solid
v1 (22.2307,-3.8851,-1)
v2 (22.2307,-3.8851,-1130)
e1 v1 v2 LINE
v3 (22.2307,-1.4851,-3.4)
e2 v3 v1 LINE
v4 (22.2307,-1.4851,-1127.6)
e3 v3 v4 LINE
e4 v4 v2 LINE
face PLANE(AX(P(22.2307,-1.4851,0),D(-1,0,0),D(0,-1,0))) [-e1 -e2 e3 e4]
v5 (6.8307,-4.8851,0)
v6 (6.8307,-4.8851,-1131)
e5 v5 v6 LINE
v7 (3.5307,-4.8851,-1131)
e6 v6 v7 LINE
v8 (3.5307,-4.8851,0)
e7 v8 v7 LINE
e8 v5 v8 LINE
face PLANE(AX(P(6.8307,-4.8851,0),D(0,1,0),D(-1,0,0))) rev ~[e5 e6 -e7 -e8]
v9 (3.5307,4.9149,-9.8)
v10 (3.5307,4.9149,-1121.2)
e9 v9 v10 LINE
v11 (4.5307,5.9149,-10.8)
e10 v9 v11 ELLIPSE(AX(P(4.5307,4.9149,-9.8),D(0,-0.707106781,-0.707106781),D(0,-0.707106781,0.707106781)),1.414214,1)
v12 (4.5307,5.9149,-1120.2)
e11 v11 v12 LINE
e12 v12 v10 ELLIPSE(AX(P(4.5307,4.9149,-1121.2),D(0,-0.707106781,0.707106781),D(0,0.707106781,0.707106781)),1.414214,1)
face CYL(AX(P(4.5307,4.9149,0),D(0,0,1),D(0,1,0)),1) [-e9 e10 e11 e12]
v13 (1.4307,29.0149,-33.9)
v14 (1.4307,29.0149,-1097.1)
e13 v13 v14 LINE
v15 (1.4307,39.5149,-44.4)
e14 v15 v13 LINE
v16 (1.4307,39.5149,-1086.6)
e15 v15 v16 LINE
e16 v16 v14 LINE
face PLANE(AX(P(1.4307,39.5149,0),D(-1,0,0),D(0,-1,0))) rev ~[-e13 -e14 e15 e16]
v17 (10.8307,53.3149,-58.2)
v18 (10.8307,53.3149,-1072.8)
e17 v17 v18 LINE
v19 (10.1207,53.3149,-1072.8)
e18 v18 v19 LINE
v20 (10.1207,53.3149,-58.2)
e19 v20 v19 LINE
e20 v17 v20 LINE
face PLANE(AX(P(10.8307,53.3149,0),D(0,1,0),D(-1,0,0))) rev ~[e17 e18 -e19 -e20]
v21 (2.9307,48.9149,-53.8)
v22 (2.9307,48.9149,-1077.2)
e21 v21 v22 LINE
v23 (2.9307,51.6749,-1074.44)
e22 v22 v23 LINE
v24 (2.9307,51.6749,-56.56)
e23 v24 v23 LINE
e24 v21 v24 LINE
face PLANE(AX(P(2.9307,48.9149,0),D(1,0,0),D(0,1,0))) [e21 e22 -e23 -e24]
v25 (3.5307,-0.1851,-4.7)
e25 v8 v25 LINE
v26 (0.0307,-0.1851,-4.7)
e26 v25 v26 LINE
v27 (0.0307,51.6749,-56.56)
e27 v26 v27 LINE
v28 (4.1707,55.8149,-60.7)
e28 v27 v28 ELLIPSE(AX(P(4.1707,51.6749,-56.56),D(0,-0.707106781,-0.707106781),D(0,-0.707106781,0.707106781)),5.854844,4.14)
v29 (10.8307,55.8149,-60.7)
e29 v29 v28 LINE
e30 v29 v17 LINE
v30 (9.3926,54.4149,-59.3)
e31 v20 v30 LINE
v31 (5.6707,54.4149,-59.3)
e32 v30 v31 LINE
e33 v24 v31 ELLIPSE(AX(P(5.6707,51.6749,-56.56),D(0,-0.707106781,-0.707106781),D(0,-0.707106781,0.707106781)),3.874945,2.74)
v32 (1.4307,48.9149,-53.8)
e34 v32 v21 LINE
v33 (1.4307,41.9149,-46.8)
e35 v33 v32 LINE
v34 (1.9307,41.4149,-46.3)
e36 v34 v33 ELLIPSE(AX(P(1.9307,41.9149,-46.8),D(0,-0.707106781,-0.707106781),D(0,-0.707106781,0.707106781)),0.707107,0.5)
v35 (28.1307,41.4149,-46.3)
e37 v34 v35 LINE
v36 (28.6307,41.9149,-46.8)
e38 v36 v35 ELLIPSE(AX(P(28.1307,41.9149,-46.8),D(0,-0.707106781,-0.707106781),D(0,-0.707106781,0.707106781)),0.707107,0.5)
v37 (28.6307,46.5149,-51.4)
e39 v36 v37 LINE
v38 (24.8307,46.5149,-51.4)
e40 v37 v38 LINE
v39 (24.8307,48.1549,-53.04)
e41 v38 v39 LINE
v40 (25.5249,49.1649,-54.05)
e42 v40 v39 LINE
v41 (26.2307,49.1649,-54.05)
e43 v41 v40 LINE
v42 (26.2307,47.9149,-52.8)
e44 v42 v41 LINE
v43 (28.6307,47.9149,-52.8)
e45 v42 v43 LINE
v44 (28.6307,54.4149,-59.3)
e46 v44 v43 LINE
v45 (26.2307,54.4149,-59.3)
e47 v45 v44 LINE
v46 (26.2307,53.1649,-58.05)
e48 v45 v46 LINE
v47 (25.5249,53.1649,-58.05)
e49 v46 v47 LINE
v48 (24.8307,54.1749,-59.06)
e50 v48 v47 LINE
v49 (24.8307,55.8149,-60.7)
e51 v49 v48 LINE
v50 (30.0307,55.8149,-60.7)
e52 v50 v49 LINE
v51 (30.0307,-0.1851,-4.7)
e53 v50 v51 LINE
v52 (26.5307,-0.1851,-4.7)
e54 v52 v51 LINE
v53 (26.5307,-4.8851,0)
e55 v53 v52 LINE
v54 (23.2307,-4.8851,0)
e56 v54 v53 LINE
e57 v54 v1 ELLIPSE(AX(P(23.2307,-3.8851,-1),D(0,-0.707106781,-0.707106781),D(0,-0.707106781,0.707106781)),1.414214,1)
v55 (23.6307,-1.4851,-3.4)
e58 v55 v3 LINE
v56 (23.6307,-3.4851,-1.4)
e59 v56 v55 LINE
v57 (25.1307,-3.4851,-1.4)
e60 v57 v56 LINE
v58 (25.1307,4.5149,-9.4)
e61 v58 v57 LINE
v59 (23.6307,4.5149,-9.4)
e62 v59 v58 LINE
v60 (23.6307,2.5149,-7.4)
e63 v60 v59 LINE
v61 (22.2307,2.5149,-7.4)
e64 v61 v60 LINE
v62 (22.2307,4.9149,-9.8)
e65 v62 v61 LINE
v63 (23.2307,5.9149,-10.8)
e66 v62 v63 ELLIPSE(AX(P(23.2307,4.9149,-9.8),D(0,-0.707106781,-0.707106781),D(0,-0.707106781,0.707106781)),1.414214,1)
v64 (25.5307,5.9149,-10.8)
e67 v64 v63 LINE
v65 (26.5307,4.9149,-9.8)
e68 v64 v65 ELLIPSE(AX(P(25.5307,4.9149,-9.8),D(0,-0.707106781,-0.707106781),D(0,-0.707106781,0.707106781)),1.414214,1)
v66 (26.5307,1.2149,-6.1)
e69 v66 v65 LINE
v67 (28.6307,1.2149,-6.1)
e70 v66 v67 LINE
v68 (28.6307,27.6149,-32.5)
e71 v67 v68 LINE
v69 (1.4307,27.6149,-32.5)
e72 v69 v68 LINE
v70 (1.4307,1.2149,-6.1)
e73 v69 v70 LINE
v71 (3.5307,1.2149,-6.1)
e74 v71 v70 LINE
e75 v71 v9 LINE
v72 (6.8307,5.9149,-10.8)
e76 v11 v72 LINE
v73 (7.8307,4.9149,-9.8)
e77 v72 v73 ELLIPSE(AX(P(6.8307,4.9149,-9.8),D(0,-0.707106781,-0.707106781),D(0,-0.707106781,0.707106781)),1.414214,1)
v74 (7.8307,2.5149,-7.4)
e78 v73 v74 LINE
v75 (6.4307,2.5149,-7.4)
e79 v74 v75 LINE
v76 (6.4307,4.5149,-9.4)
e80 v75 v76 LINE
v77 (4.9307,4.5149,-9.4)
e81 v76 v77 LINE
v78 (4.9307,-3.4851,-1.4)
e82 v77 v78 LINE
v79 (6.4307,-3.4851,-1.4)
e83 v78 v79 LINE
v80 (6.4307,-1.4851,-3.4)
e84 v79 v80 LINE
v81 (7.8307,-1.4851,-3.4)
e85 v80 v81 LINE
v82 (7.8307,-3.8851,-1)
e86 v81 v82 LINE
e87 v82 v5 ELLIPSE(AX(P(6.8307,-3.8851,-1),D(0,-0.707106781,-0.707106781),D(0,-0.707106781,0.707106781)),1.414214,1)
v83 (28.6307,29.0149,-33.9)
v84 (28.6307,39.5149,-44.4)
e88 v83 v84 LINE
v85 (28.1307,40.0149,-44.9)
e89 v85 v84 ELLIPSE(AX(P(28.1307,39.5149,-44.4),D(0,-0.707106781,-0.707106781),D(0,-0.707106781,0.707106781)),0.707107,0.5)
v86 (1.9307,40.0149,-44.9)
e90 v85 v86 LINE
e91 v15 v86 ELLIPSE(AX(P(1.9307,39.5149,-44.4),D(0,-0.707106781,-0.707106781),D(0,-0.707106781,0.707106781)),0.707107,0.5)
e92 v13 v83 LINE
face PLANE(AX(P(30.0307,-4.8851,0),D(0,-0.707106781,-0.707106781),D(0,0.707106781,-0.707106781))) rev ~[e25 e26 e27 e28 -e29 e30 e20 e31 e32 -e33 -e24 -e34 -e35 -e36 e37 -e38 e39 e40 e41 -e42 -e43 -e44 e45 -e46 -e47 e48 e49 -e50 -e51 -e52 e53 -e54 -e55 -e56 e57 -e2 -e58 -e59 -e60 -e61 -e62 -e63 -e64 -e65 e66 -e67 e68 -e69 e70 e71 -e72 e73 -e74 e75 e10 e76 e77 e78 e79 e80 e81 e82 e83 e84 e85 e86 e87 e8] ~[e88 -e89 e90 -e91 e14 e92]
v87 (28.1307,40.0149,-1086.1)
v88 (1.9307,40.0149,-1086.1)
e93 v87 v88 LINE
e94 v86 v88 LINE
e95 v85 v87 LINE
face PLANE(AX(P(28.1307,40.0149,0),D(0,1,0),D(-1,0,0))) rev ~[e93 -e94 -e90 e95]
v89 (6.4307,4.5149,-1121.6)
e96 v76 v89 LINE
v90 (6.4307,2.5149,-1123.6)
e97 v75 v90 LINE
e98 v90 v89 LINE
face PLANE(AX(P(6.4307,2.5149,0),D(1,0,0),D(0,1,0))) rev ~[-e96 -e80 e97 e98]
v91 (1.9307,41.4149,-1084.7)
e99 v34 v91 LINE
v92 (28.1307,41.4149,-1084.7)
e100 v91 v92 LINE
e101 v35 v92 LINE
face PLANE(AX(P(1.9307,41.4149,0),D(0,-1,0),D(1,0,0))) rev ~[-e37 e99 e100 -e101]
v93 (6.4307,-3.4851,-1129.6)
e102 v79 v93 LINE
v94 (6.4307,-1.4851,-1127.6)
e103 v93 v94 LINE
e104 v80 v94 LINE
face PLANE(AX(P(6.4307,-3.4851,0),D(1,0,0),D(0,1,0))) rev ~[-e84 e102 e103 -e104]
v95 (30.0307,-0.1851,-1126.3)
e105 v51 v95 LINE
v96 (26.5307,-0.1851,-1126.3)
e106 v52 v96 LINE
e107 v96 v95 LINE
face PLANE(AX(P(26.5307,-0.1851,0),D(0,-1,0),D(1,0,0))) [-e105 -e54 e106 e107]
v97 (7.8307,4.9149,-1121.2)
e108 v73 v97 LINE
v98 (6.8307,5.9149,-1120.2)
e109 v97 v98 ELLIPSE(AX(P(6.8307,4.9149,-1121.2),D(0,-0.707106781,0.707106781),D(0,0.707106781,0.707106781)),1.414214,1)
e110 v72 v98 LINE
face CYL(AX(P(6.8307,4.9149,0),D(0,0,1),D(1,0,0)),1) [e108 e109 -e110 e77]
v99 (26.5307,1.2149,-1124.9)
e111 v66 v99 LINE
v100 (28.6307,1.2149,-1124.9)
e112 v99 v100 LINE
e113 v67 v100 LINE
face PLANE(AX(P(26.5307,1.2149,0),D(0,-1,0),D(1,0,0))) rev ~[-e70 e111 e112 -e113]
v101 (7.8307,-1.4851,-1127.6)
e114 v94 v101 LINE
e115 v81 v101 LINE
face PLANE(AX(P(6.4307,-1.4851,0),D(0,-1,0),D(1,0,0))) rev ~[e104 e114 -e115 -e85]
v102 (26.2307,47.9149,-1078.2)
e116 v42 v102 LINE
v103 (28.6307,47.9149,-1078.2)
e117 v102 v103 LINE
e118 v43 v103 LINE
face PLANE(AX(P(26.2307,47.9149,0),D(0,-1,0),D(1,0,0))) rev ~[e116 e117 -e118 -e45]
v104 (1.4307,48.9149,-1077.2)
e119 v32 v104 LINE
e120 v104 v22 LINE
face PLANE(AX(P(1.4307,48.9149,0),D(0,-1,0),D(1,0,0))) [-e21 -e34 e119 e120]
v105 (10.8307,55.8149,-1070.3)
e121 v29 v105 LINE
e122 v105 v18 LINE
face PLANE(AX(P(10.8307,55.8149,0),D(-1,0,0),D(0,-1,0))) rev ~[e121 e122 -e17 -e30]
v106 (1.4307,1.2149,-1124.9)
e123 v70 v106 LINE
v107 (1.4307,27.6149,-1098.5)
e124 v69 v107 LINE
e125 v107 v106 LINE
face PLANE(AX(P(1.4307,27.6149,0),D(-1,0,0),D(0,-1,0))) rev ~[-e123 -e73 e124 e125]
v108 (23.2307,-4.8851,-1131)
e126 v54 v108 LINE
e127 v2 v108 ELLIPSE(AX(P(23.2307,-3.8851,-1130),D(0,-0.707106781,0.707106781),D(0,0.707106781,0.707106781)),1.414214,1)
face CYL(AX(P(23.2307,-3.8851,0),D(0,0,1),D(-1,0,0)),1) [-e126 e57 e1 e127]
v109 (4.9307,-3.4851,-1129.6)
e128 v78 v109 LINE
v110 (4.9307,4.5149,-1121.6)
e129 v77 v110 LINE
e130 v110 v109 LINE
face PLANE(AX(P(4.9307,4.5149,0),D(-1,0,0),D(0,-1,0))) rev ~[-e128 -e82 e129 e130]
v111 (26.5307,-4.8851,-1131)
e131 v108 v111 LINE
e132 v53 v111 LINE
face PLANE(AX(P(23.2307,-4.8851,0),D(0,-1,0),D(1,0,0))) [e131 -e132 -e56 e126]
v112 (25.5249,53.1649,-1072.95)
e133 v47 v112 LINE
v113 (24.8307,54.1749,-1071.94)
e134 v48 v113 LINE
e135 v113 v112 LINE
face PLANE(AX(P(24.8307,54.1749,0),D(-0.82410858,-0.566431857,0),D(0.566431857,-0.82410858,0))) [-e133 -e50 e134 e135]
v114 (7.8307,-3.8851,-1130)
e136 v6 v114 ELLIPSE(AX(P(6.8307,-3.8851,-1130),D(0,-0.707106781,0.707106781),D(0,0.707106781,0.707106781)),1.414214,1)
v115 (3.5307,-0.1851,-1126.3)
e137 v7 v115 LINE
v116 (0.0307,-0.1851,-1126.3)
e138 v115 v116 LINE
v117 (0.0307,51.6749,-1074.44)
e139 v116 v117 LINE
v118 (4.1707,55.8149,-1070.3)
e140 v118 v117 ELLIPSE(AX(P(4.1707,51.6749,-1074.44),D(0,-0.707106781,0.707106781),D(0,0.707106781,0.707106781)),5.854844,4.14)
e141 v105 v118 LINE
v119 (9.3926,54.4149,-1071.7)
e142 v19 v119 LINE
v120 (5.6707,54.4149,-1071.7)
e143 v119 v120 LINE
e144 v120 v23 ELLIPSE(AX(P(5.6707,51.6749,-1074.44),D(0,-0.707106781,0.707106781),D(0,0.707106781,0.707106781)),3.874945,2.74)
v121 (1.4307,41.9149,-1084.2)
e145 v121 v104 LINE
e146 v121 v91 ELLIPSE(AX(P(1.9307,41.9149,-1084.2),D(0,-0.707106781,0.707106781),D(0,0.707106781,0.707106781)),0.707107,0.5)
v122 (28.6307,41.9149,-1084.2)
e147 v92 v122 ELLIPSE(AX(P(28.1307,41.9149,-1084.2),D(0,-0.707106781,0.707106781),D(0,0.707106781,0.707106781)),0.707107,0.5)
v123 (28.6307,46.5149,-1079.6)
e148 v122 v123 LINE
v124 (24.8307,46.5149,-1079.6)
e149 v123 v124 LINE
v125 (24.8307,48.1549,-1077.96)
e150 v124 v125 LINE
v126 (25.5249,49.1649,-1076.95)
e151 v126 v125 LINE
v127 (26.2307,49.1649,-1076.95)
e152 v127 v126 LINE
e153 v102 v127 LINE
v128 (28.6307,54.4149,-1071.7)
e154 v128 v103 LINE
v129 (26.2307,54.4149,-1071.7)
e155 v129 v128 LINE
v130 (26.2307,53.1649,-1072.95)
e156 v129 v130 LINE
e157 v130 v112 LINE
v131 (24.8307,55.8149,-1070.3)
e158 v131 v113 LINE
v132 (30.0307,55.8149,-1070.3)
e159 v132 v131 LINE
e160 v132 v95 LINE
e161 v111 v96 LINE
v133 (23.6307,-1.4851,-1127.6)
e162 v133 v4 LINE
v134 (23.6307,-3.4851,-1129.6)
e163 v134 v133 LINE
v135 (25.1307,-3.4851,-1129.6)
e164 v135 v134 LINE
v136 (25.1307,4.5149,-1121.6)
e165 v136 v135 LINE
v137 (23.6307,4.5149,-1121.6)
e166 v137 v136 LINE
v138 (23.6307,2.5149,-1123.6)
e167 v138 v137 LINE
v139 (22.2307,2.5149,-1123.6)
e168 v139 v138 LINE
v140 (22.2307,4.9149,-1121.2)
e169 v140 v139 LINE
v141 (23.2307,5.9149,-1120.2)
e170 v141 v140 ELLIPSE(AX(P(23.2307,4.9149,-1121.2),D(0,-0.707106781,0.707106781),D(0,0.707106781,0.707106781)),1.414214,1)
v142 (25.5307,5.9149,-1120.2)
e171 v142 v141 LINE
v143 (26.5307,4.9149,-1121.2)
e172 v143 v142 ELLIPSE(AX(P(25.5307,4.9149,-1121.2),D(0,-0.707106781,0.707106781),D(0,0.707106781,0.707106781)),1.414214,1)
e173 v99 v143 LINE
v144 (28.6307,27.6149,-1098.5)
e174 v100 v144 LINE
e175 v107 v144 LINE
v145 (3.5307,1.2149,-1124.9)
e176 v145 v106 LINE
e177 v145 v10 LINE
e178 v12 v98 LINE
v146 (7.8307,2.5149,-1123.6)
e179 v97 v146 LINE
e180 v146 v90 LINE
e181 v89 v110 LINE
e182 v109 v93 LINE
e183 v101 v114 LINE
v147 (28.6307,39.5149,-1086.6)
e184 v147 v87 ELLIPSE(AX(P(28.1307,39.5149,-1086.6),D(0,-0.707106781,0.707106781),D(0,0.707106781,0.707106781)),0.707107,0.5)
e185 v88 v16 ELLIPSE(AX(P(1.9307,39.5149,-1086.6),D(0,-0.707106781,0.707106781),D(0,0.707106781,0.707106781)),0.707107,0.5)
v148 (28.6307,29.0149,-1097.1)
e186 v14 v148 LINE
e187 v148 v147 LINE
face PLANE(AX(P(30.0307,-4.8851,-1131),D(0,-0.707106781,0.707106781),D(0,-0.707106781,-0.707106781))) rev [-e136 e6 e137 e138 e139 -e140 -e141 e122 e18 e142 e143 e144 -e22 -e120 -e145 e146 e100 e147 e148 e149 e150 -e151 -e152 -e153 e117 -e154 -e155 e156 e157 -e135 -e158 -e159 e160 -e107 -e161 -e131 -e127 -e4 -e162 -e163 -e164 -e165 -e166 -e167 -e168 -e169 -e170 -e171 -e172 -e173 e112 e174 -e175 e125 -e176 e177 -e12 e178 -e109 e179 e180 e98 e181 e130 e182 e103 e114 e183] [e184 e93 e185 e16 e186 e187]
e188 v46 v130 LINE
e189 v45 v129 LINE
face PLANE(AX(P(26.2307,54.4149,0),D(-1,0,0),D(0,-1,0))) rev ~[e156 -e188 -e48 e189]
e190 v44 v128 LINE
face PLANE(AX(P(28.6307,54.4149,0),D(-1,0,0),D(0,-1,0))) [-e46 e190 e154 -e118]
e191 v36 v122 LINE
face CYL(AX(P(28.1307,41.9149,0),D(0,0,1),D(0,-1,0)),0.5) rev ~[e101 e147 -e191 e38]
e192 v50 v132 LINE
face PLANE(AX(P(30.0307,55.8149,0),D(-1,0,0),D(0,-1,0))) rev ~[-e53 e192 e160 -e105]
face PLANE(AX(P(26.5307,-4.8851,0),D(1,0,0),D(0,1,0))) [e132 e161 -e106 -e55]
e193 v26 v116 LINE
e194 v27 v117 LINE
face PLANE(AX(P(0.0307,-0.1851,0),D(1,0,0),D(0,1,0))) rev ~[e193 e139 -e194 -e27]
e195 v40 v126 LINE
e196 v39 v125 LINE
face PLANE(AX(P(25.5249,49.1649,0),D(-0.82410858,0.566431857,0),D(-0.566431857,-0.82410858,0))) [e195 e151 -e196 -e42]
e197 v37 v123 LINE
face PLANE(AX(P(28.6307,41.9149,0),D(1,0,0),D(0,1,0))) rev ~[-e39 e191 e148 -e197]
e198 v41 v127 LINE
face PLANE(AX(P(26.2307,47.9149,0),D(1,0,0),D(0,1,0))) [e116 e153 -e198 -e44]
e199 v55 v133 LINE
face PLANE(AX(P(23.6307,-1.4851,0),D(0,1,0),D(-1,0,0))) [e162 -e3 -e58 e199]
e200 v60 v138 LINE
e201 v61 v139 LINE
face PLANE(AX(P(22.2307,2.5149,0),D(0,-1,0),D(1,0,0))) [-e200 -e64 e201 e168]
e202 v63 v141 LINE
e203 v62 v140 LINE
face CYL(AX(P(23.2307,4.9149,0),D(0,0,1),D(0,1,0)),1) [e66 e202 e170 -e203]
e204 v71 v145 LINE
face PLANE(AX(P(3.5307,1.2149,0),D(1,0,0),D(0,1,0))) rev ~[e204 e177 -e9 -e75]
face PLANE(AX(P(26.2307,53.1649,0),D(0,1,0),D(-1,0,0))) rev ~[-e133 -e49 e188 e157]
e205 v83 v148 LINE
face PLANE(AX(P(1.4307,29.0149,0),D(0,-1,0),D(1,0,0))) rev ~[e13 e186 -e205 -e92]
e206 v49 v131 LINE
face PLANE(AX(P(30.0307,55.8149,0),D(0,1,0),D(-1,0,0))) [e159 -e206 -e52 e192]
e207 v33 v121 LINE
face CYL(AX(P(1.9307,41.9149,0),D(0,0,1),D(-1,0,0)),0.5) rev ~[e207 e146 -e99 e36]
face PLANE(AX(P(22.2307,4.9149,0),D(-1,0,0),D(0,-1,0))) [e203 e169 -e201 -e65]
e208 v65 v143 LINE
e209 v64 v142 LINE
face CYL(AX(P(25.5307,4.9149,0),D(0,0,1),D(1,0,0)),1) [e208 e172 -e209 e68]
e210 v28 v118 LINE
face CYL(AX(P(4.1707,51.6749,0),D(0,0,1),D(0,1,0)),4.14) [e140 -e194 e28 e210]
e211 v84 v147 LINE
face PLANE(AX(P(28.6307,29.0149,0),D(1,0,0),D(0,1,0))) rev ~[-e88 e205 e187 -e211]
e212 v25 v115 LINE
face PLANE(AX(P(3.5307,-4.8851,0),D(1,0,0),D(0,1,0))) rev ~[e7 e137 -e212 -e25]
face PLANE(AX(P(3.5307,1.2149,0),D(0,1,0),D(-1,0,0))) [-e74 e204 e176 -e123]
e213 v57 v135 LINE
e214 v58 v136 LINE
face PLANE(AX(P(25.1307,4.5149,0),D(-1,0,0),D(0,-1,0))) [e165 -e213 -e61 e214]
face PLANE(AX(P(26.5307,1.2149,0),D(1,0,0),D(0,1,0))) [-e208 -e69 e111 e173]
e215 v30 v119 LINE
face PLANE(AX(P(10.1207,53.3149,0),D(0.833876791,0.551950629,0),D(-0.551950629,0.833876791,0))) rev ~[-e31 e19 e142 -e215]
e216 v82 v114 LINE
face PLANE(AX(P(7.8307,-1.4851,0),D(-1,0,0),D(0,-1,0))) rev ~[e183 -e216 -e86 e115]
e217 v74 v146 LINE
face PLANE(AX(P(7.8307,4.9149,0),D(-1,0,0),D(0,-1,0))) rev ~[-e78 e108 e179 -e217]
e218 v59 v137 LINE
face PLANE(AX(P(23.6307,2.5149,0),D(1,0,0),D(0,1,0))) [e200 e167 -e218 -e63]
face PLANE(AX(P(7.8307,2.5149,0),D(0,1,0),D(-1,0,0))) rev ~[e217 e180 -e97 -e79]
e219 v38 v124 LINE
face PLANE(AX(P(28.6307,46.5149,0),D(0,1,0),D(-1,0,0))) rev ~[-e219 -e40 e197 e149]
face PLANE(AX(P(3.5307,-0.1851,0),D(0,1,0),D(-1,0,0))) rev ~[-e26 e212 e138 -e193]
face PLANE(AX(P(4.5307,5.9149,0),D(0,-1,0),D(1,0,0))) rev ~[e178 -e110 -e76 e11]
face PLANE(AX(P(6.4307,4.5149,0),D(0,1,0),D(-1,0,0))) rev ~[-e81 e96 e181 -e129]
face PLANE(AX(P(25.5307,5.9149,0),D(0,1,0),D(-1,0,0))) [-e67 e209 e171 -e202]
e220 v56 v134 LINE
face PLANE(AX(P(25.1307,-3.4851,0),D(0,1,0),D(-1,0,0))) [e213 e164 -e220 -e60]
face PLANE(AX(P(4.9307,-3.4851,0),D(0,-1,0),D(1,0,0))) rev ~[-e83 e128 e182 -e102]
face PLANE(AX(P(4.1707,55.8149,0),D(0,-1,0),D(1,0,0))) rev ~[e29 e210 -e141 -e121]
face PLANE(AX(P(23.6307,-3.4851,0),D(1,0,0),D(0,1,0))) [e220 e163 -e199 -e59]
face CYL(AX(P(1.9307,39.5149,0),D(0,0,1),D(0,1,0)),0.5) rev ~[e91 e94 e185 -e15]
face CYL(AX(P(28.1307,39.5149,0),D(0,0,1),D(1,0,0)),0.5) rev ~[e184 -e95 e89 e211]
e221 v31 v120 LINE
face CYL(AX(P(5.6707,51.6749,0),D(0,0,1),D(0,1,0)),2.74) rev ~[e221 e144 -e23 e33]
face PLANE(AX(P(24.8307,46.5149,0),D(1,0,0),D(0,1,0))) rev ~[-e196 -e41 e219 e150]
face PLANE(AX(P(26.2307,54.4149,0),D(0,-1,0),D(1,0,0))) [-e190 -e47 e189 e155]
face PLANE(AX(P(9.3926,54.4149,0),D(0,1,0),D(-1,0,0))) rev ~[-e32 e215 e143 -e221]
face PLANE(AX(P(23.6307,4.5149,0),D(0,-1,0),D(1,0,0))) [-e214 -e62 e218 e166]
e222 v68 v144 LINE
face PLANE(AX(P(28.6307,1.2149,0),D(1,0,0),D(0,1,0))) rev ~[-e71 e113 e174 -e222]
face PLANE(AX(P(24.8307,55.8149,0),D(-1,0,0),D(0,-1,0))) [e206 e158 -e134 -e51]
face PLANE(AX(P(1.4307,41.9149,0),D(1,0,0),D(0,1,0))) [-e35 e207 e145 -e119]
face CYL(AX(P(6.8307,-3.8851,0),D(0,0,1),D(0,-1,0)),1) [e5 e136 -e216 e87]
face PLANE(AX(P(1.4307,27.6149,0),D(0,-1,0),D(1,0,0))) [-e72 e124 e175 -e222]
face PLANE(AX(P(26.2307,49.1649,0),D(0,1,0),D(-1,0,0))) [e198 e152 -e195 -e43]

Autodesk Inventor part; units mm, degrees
ref_plane "YZ Plane" through (0, 0, 0) normal (1, 0, 0) x (0, 1, 0)
ref_plane "XZ Plane" through (0, 0, 0) normal (0, 1, 0) x (-1, 0, 0)
sketch "Boceto1" plane through (0, 0, 0) normal (0, 0, 1) x (1, 0, 0)
  line L0 (28.1307, 40.0149) -> (1.9307, 40.0149)
  line L1 (1.9307, 41.4149) -> (28.1307, 41.4149)
  line L2 (0.0307, -0.1851) -> (0.0307, 51.6749)
  line L3 (24.8307, 55.8149) -> (24.8307, 54.1749)
  line L4 (28.6307, 54.4149) -> (28.6307, 47.9149)
  line L5 (28.6307, 46.5149) -> (24.8307, 46.5149)
  line L6 (24.8307, 46.5149) -> (24.8307, 48.1549)
  line L7 (26.2307, 47.9149) -> (28.6307, 47.9149)
  line L8 (26.2307, 49.1649) -> (25.5249, 49.1649)
  line L9 (25.5249, 49.1649) -> (24.8307, 48.1549)
  line L10 (26.2307, 53.1649) -> (25.5249, 53.1649)
  line L11 (1.4307, 41.9149) -> (1.4307, 48.9149)
  line L12 (1.4307, 48.9149) -> (2.9307, 48.9149)
  line L13 (2.9307, 48.9149) -> (2.9307, 51.6749)
  line L14 (4.1707, 55.8149) -> (10.8307, 55.8149)
  line L15 (9.3926, 54.4149) -> (5.6707, 54.4149)
  line L16 (10.8307, 55.8149) -> (10.8307, 53.3149)
  line L17 (10.8307, 53.3149) -> (10.1207, 53.3149)
  line L18 (10.1207, 53.3149) -> (9.3926, 54.4149)
  line L19 (26.2307, 54.4149) -> (28.6307, 54.4149)
  arc A0 (5.6707, 54.4149) -> (2.9307, 51.6749) centre (5.6707, 51.6749) ccw
  arc A1 (4.1707, 55.8149) -> (0.0307, 51.6749) centre (4.1707, 51.6749) ccw
  line L20 (24.8307, 54.1749) -> (25.5249, 53.1649)
  line L21 (26.2307, 54.4149) -> (26.2307, 53.1649)
  line L22 (26.2307, 47.9149) -> (26.2307, 49.1649)
  arc A2 (1.9307, 40.0149) -> (1.4307, 39.5149) centre (1.9307, 39.5149) ccw
  arc A3 (28.6307, 39.5149) -> (28.1307, 40.0149) centre (28.1307, 39.5149) ccw
  arc A4 (28.1307, 41.4149) -> (28.6307, 41.9149) centre (28.1307, 41.9149) ccw
  arc A5 (1.4307, 41.9149) -> (1.9307, 41.4149) centre (1.9307, 41.9149) ccw
  line L23 (30.0307, 55.8149) -> (24.8307, 55.8149)
  line L24 (28.6307, 41.9149) -> (28.6307, 46.5149)
  line L25 (30.0307, 55.8149) -> (30.0307, -0.1851)
  line L26 (1.4307, 29.0149) -> (28.6307, 29.0149)
  line L27 (1.4307, 27.6149) -> (28.6307, 27.6149)
  line L28 (1.4307, 39.5149) -> (1.4307, 29.0149)
  line L29 (1.4307, 27.6149) -> (1.4307, 1.2149)
  line L30 (28.6307, 1.2149) -> (28.6307, 27.6149)
  line L31 (28.6307, 29.0149) -> (28.6307, 39.5149)
  line L32 (28.6307, 39.5149) -> (28.6307, 29.0149)
  line L33 (28.6307, 27.6149) -> (28.6307, 1.2149)
  line L34 (4.5307, 5.9149) -> (6.8307, 5.9149)
  line L35 (7.8307, 4.9149) -> (7.8307, 2.5149)
  line L36 (7.8307, 2.5149) -> (6.4307, 2.5149)
  line L37 (6.4307, 2.5149) -> (6.4307, 4.5149)
  line L38 (6.4307, 4.5149) -> (4.9307, 4.5149)
  line L39 (4.9307, 4.5149) -> (4.9307, -3.4851)
  line L40 (4.9307, -3.4851) -> (6.4307, -3.4851)
  line L41 (6.4307, -3.4851) -> (6.4307, -1.4851)
  line L42 (6.4307, -1.4851) -> (7.8307, -1.4851)
  line L43 (7.8307, -1.4851) -> (7.8307, -3.8851)
  line L44 (6.8307, -4.8851) -> (3.5307, -4.8851)
  line L45 (3.5307, -4.8851) -> (3.5307, -0.1851)
  arc A6 (7.8307, 4.9149) -> (6.8307, 5.9149) centre (6.8307, 4.9149) ccw
  arc A7 (4.5307, 5.9149) -> (3.5307, 4.9149) centre (4.5307, 4.9149) ccw
  arc A8 (6.8307, -4.8851) -> (7.8307, -3.8851) centre (6.8307, -3.8851) ccw
  line L46 (3.5307, 1.2149) -> (1.4307, 1.2149)
  line L47 (3.5307, -0.1851) -> (0.0307, -0.1851)
  line L48 (3.5307, 1.2149) -> (3.5307, 4.9149)
  line L49 (25.5307, 5.9149) -> (23.2307, 5.9149)
  line L50 (22.2307, 4.9149) -> (22.2307, 2.5149)
  line L51 (22.2307, 2.5149) -> (23.6307, 2.5149)
  line L52 (23.6307, 2.5149) -> (23.6307, 4.5149)
  line L53 (23.6307, 4.5149) -> (25.1307, 4.5149)
  line L54 (25.1307, 4.5149) -> (25.1307, -3.4851)
  line L55 (25.1307, -3.4851) -> (23.6307, -3.4851)
  line L56 (23.6307, -3.4851) -> (23.6307, -1.4851)
  line L57 (23.6307, -1.4851) -> (22.2307, -1.4851)
  line L58 (22.2307, -1.4851) -> (22.2307, -3.8851)
  line L59 (23.2307, -4.8851) -> (26.5307, -4.8851)
  line L60 (26.5307, -4.8851) -> (26.5307, -0.1851)
  arc A9 (23.2307, 5.9149) -> (22.2307, 4.9149) centre (23.2307, 4.9149) ccw
  arc A10 (26.5307, 4.9149) -> (25.5307, 5.9149) centre (25.5307, 4.9149) ccw
  arc A11 (22.2307, -3.8851) -> (23.2307, -4.8851) centre (23.2307, -3.8851) ccw
  line L61 (26.5307, 1.2149) -> (28.6307, 1.2149)
  line L62 (26.5307, -0.1851) -> (30.0307, -0.1851)
  line L63 (26.5307, 1.2149) -> (26.5307, 4.9149)
  point P0 (28.6307, 51.1649)
  point P1 (0.0307, 0.7149)
  point P2 (4.9307, 0.5149)
  point P3 (25.1307, 0.5149)
  dimension "d31" = 1.4
  dimension "d42" = 2.5
  dimension "d43" = 0.71
  dimension "d45" = 2.9
  dimension "d47" = 33.5
  dimension "d48" = 7.5
  dimension "d51" = 2.74
  dimension "d59" = 6.9
  dimension "d60" = 1.4
  dimension "d78" = 6.5
  dimension "d84" = 1.4
  dimension "d85" = 1.4
  dimension "d88" = 2.4
  dimension "d95" = 6.02
  dimension "d99" = 111
  dimension "d100" = 2.4
  dimension "d108" = 4
  dimension "d109" = 0.7058
  dimension "d110" = 0.7058
  dimension "d143" = 1.4
  dimension "d147" = 1.4
  dimension "d148" = 30
  dimension "d149" = 1.4
  dimension "d150" = 14
  dimension "d151" = 27.2
  dimension "d152" = 14.4
  dimension "d153" = 1.4
  dimension "d154" = 11
  dimension "d155" = 1.4
  dimension "d156" = 1.4
  dimension "d157" = 1.4
  dimension "d158" = 1.4
  dimension "d162" = 60.7
  dimension "d163" = 10.8
  dimension "d164" = 8
  dimension "d165" = 2
  dimension "d166" = 4
  dimension "d167" = 1.5
  dimension "d168" = 7.8
  dimension "d169" = 1
  dimension "d172" = 1.4
  dimension "d173" = 4.7
  dimension "d175" = 56
  dimension "d176" = 13.8
  dimension "d177" = 14.4
  dimension "d180" = 1.5
  dimension "d181" = 4.14
  dimension "d182" = 10.8
  dimension "d183" = 14.4
  dimension "d184" = 0.5
  dimension "d187" = 3.5
  dimension "d188" = 4.9
  dimension "d189" = 6.4
  dimension "d190" = 7.8
  dimension "d191" = 26.5
  dimension "d193" = 54.6
  dimension "d195" = 3.5
  dimension "d196" = 4.9
  dimension "d197" = 53.9
  dimension "d198" = 53.7
  dimension "d202" = 2
  dimension "d203" = 3.01
  dimension "d204" = 2
  dimension "d205" = 9.3
extrude "Extrusión1" add sketch "Boceto1" against normal blind 1131
ref_plane "Plano de trabajo1" through (0, 0, -565.5) normal (0, 0, 1) x (1, 0, 0)
sketch "Boceto2" plane through (30.0307, -0.1851, 0) normal (1, 0, 0) x (0, 0, -1)
  line L0 (0, -4.7) -> (0, 0) projected
  line L1 (0, -4.7) -> (1131, -4.7) projected
  line L2 (1131, 0) -> (1131, -4.7) projected
  line L3 (0, 0) -> (1131, 0) projected
  line L4 (0, 0) -> (0, 56) projected
  line L5 (0, 0) -> (1131, 0) projected
  line L6 (1131, 56) -> (1131, 0) projected
  line L7 (0, 56) -> (1131, 56) projected
  line L8 (0, -4.7) -> (60.7, 56)
  line L9 (0, 56) -> (60.7, 56)
  line L10 (0, 56) -> (0, -4.7)
  point P0 (0, 0.1851)
  point P1 (0, 0)
  dimension "d201" = 45
extrude "Extrusión2" cut sketch "Boceto2" against normal through all contours L0 L3 L8 | L4 L7 L8 L3
mirror "Simetría1" about plane through (0, 0, -565.5) normal (0, 0, 1) of "Extrusión2"
ref_plane "Plano de trabajo2" through (15.0307, -0.1851, -1126.3) normal (-1, 0, 0) x (0, 0, 1)
properties part number "SP40-10 HOJA CORREDERA 1131 mm" material "Aluminio"
